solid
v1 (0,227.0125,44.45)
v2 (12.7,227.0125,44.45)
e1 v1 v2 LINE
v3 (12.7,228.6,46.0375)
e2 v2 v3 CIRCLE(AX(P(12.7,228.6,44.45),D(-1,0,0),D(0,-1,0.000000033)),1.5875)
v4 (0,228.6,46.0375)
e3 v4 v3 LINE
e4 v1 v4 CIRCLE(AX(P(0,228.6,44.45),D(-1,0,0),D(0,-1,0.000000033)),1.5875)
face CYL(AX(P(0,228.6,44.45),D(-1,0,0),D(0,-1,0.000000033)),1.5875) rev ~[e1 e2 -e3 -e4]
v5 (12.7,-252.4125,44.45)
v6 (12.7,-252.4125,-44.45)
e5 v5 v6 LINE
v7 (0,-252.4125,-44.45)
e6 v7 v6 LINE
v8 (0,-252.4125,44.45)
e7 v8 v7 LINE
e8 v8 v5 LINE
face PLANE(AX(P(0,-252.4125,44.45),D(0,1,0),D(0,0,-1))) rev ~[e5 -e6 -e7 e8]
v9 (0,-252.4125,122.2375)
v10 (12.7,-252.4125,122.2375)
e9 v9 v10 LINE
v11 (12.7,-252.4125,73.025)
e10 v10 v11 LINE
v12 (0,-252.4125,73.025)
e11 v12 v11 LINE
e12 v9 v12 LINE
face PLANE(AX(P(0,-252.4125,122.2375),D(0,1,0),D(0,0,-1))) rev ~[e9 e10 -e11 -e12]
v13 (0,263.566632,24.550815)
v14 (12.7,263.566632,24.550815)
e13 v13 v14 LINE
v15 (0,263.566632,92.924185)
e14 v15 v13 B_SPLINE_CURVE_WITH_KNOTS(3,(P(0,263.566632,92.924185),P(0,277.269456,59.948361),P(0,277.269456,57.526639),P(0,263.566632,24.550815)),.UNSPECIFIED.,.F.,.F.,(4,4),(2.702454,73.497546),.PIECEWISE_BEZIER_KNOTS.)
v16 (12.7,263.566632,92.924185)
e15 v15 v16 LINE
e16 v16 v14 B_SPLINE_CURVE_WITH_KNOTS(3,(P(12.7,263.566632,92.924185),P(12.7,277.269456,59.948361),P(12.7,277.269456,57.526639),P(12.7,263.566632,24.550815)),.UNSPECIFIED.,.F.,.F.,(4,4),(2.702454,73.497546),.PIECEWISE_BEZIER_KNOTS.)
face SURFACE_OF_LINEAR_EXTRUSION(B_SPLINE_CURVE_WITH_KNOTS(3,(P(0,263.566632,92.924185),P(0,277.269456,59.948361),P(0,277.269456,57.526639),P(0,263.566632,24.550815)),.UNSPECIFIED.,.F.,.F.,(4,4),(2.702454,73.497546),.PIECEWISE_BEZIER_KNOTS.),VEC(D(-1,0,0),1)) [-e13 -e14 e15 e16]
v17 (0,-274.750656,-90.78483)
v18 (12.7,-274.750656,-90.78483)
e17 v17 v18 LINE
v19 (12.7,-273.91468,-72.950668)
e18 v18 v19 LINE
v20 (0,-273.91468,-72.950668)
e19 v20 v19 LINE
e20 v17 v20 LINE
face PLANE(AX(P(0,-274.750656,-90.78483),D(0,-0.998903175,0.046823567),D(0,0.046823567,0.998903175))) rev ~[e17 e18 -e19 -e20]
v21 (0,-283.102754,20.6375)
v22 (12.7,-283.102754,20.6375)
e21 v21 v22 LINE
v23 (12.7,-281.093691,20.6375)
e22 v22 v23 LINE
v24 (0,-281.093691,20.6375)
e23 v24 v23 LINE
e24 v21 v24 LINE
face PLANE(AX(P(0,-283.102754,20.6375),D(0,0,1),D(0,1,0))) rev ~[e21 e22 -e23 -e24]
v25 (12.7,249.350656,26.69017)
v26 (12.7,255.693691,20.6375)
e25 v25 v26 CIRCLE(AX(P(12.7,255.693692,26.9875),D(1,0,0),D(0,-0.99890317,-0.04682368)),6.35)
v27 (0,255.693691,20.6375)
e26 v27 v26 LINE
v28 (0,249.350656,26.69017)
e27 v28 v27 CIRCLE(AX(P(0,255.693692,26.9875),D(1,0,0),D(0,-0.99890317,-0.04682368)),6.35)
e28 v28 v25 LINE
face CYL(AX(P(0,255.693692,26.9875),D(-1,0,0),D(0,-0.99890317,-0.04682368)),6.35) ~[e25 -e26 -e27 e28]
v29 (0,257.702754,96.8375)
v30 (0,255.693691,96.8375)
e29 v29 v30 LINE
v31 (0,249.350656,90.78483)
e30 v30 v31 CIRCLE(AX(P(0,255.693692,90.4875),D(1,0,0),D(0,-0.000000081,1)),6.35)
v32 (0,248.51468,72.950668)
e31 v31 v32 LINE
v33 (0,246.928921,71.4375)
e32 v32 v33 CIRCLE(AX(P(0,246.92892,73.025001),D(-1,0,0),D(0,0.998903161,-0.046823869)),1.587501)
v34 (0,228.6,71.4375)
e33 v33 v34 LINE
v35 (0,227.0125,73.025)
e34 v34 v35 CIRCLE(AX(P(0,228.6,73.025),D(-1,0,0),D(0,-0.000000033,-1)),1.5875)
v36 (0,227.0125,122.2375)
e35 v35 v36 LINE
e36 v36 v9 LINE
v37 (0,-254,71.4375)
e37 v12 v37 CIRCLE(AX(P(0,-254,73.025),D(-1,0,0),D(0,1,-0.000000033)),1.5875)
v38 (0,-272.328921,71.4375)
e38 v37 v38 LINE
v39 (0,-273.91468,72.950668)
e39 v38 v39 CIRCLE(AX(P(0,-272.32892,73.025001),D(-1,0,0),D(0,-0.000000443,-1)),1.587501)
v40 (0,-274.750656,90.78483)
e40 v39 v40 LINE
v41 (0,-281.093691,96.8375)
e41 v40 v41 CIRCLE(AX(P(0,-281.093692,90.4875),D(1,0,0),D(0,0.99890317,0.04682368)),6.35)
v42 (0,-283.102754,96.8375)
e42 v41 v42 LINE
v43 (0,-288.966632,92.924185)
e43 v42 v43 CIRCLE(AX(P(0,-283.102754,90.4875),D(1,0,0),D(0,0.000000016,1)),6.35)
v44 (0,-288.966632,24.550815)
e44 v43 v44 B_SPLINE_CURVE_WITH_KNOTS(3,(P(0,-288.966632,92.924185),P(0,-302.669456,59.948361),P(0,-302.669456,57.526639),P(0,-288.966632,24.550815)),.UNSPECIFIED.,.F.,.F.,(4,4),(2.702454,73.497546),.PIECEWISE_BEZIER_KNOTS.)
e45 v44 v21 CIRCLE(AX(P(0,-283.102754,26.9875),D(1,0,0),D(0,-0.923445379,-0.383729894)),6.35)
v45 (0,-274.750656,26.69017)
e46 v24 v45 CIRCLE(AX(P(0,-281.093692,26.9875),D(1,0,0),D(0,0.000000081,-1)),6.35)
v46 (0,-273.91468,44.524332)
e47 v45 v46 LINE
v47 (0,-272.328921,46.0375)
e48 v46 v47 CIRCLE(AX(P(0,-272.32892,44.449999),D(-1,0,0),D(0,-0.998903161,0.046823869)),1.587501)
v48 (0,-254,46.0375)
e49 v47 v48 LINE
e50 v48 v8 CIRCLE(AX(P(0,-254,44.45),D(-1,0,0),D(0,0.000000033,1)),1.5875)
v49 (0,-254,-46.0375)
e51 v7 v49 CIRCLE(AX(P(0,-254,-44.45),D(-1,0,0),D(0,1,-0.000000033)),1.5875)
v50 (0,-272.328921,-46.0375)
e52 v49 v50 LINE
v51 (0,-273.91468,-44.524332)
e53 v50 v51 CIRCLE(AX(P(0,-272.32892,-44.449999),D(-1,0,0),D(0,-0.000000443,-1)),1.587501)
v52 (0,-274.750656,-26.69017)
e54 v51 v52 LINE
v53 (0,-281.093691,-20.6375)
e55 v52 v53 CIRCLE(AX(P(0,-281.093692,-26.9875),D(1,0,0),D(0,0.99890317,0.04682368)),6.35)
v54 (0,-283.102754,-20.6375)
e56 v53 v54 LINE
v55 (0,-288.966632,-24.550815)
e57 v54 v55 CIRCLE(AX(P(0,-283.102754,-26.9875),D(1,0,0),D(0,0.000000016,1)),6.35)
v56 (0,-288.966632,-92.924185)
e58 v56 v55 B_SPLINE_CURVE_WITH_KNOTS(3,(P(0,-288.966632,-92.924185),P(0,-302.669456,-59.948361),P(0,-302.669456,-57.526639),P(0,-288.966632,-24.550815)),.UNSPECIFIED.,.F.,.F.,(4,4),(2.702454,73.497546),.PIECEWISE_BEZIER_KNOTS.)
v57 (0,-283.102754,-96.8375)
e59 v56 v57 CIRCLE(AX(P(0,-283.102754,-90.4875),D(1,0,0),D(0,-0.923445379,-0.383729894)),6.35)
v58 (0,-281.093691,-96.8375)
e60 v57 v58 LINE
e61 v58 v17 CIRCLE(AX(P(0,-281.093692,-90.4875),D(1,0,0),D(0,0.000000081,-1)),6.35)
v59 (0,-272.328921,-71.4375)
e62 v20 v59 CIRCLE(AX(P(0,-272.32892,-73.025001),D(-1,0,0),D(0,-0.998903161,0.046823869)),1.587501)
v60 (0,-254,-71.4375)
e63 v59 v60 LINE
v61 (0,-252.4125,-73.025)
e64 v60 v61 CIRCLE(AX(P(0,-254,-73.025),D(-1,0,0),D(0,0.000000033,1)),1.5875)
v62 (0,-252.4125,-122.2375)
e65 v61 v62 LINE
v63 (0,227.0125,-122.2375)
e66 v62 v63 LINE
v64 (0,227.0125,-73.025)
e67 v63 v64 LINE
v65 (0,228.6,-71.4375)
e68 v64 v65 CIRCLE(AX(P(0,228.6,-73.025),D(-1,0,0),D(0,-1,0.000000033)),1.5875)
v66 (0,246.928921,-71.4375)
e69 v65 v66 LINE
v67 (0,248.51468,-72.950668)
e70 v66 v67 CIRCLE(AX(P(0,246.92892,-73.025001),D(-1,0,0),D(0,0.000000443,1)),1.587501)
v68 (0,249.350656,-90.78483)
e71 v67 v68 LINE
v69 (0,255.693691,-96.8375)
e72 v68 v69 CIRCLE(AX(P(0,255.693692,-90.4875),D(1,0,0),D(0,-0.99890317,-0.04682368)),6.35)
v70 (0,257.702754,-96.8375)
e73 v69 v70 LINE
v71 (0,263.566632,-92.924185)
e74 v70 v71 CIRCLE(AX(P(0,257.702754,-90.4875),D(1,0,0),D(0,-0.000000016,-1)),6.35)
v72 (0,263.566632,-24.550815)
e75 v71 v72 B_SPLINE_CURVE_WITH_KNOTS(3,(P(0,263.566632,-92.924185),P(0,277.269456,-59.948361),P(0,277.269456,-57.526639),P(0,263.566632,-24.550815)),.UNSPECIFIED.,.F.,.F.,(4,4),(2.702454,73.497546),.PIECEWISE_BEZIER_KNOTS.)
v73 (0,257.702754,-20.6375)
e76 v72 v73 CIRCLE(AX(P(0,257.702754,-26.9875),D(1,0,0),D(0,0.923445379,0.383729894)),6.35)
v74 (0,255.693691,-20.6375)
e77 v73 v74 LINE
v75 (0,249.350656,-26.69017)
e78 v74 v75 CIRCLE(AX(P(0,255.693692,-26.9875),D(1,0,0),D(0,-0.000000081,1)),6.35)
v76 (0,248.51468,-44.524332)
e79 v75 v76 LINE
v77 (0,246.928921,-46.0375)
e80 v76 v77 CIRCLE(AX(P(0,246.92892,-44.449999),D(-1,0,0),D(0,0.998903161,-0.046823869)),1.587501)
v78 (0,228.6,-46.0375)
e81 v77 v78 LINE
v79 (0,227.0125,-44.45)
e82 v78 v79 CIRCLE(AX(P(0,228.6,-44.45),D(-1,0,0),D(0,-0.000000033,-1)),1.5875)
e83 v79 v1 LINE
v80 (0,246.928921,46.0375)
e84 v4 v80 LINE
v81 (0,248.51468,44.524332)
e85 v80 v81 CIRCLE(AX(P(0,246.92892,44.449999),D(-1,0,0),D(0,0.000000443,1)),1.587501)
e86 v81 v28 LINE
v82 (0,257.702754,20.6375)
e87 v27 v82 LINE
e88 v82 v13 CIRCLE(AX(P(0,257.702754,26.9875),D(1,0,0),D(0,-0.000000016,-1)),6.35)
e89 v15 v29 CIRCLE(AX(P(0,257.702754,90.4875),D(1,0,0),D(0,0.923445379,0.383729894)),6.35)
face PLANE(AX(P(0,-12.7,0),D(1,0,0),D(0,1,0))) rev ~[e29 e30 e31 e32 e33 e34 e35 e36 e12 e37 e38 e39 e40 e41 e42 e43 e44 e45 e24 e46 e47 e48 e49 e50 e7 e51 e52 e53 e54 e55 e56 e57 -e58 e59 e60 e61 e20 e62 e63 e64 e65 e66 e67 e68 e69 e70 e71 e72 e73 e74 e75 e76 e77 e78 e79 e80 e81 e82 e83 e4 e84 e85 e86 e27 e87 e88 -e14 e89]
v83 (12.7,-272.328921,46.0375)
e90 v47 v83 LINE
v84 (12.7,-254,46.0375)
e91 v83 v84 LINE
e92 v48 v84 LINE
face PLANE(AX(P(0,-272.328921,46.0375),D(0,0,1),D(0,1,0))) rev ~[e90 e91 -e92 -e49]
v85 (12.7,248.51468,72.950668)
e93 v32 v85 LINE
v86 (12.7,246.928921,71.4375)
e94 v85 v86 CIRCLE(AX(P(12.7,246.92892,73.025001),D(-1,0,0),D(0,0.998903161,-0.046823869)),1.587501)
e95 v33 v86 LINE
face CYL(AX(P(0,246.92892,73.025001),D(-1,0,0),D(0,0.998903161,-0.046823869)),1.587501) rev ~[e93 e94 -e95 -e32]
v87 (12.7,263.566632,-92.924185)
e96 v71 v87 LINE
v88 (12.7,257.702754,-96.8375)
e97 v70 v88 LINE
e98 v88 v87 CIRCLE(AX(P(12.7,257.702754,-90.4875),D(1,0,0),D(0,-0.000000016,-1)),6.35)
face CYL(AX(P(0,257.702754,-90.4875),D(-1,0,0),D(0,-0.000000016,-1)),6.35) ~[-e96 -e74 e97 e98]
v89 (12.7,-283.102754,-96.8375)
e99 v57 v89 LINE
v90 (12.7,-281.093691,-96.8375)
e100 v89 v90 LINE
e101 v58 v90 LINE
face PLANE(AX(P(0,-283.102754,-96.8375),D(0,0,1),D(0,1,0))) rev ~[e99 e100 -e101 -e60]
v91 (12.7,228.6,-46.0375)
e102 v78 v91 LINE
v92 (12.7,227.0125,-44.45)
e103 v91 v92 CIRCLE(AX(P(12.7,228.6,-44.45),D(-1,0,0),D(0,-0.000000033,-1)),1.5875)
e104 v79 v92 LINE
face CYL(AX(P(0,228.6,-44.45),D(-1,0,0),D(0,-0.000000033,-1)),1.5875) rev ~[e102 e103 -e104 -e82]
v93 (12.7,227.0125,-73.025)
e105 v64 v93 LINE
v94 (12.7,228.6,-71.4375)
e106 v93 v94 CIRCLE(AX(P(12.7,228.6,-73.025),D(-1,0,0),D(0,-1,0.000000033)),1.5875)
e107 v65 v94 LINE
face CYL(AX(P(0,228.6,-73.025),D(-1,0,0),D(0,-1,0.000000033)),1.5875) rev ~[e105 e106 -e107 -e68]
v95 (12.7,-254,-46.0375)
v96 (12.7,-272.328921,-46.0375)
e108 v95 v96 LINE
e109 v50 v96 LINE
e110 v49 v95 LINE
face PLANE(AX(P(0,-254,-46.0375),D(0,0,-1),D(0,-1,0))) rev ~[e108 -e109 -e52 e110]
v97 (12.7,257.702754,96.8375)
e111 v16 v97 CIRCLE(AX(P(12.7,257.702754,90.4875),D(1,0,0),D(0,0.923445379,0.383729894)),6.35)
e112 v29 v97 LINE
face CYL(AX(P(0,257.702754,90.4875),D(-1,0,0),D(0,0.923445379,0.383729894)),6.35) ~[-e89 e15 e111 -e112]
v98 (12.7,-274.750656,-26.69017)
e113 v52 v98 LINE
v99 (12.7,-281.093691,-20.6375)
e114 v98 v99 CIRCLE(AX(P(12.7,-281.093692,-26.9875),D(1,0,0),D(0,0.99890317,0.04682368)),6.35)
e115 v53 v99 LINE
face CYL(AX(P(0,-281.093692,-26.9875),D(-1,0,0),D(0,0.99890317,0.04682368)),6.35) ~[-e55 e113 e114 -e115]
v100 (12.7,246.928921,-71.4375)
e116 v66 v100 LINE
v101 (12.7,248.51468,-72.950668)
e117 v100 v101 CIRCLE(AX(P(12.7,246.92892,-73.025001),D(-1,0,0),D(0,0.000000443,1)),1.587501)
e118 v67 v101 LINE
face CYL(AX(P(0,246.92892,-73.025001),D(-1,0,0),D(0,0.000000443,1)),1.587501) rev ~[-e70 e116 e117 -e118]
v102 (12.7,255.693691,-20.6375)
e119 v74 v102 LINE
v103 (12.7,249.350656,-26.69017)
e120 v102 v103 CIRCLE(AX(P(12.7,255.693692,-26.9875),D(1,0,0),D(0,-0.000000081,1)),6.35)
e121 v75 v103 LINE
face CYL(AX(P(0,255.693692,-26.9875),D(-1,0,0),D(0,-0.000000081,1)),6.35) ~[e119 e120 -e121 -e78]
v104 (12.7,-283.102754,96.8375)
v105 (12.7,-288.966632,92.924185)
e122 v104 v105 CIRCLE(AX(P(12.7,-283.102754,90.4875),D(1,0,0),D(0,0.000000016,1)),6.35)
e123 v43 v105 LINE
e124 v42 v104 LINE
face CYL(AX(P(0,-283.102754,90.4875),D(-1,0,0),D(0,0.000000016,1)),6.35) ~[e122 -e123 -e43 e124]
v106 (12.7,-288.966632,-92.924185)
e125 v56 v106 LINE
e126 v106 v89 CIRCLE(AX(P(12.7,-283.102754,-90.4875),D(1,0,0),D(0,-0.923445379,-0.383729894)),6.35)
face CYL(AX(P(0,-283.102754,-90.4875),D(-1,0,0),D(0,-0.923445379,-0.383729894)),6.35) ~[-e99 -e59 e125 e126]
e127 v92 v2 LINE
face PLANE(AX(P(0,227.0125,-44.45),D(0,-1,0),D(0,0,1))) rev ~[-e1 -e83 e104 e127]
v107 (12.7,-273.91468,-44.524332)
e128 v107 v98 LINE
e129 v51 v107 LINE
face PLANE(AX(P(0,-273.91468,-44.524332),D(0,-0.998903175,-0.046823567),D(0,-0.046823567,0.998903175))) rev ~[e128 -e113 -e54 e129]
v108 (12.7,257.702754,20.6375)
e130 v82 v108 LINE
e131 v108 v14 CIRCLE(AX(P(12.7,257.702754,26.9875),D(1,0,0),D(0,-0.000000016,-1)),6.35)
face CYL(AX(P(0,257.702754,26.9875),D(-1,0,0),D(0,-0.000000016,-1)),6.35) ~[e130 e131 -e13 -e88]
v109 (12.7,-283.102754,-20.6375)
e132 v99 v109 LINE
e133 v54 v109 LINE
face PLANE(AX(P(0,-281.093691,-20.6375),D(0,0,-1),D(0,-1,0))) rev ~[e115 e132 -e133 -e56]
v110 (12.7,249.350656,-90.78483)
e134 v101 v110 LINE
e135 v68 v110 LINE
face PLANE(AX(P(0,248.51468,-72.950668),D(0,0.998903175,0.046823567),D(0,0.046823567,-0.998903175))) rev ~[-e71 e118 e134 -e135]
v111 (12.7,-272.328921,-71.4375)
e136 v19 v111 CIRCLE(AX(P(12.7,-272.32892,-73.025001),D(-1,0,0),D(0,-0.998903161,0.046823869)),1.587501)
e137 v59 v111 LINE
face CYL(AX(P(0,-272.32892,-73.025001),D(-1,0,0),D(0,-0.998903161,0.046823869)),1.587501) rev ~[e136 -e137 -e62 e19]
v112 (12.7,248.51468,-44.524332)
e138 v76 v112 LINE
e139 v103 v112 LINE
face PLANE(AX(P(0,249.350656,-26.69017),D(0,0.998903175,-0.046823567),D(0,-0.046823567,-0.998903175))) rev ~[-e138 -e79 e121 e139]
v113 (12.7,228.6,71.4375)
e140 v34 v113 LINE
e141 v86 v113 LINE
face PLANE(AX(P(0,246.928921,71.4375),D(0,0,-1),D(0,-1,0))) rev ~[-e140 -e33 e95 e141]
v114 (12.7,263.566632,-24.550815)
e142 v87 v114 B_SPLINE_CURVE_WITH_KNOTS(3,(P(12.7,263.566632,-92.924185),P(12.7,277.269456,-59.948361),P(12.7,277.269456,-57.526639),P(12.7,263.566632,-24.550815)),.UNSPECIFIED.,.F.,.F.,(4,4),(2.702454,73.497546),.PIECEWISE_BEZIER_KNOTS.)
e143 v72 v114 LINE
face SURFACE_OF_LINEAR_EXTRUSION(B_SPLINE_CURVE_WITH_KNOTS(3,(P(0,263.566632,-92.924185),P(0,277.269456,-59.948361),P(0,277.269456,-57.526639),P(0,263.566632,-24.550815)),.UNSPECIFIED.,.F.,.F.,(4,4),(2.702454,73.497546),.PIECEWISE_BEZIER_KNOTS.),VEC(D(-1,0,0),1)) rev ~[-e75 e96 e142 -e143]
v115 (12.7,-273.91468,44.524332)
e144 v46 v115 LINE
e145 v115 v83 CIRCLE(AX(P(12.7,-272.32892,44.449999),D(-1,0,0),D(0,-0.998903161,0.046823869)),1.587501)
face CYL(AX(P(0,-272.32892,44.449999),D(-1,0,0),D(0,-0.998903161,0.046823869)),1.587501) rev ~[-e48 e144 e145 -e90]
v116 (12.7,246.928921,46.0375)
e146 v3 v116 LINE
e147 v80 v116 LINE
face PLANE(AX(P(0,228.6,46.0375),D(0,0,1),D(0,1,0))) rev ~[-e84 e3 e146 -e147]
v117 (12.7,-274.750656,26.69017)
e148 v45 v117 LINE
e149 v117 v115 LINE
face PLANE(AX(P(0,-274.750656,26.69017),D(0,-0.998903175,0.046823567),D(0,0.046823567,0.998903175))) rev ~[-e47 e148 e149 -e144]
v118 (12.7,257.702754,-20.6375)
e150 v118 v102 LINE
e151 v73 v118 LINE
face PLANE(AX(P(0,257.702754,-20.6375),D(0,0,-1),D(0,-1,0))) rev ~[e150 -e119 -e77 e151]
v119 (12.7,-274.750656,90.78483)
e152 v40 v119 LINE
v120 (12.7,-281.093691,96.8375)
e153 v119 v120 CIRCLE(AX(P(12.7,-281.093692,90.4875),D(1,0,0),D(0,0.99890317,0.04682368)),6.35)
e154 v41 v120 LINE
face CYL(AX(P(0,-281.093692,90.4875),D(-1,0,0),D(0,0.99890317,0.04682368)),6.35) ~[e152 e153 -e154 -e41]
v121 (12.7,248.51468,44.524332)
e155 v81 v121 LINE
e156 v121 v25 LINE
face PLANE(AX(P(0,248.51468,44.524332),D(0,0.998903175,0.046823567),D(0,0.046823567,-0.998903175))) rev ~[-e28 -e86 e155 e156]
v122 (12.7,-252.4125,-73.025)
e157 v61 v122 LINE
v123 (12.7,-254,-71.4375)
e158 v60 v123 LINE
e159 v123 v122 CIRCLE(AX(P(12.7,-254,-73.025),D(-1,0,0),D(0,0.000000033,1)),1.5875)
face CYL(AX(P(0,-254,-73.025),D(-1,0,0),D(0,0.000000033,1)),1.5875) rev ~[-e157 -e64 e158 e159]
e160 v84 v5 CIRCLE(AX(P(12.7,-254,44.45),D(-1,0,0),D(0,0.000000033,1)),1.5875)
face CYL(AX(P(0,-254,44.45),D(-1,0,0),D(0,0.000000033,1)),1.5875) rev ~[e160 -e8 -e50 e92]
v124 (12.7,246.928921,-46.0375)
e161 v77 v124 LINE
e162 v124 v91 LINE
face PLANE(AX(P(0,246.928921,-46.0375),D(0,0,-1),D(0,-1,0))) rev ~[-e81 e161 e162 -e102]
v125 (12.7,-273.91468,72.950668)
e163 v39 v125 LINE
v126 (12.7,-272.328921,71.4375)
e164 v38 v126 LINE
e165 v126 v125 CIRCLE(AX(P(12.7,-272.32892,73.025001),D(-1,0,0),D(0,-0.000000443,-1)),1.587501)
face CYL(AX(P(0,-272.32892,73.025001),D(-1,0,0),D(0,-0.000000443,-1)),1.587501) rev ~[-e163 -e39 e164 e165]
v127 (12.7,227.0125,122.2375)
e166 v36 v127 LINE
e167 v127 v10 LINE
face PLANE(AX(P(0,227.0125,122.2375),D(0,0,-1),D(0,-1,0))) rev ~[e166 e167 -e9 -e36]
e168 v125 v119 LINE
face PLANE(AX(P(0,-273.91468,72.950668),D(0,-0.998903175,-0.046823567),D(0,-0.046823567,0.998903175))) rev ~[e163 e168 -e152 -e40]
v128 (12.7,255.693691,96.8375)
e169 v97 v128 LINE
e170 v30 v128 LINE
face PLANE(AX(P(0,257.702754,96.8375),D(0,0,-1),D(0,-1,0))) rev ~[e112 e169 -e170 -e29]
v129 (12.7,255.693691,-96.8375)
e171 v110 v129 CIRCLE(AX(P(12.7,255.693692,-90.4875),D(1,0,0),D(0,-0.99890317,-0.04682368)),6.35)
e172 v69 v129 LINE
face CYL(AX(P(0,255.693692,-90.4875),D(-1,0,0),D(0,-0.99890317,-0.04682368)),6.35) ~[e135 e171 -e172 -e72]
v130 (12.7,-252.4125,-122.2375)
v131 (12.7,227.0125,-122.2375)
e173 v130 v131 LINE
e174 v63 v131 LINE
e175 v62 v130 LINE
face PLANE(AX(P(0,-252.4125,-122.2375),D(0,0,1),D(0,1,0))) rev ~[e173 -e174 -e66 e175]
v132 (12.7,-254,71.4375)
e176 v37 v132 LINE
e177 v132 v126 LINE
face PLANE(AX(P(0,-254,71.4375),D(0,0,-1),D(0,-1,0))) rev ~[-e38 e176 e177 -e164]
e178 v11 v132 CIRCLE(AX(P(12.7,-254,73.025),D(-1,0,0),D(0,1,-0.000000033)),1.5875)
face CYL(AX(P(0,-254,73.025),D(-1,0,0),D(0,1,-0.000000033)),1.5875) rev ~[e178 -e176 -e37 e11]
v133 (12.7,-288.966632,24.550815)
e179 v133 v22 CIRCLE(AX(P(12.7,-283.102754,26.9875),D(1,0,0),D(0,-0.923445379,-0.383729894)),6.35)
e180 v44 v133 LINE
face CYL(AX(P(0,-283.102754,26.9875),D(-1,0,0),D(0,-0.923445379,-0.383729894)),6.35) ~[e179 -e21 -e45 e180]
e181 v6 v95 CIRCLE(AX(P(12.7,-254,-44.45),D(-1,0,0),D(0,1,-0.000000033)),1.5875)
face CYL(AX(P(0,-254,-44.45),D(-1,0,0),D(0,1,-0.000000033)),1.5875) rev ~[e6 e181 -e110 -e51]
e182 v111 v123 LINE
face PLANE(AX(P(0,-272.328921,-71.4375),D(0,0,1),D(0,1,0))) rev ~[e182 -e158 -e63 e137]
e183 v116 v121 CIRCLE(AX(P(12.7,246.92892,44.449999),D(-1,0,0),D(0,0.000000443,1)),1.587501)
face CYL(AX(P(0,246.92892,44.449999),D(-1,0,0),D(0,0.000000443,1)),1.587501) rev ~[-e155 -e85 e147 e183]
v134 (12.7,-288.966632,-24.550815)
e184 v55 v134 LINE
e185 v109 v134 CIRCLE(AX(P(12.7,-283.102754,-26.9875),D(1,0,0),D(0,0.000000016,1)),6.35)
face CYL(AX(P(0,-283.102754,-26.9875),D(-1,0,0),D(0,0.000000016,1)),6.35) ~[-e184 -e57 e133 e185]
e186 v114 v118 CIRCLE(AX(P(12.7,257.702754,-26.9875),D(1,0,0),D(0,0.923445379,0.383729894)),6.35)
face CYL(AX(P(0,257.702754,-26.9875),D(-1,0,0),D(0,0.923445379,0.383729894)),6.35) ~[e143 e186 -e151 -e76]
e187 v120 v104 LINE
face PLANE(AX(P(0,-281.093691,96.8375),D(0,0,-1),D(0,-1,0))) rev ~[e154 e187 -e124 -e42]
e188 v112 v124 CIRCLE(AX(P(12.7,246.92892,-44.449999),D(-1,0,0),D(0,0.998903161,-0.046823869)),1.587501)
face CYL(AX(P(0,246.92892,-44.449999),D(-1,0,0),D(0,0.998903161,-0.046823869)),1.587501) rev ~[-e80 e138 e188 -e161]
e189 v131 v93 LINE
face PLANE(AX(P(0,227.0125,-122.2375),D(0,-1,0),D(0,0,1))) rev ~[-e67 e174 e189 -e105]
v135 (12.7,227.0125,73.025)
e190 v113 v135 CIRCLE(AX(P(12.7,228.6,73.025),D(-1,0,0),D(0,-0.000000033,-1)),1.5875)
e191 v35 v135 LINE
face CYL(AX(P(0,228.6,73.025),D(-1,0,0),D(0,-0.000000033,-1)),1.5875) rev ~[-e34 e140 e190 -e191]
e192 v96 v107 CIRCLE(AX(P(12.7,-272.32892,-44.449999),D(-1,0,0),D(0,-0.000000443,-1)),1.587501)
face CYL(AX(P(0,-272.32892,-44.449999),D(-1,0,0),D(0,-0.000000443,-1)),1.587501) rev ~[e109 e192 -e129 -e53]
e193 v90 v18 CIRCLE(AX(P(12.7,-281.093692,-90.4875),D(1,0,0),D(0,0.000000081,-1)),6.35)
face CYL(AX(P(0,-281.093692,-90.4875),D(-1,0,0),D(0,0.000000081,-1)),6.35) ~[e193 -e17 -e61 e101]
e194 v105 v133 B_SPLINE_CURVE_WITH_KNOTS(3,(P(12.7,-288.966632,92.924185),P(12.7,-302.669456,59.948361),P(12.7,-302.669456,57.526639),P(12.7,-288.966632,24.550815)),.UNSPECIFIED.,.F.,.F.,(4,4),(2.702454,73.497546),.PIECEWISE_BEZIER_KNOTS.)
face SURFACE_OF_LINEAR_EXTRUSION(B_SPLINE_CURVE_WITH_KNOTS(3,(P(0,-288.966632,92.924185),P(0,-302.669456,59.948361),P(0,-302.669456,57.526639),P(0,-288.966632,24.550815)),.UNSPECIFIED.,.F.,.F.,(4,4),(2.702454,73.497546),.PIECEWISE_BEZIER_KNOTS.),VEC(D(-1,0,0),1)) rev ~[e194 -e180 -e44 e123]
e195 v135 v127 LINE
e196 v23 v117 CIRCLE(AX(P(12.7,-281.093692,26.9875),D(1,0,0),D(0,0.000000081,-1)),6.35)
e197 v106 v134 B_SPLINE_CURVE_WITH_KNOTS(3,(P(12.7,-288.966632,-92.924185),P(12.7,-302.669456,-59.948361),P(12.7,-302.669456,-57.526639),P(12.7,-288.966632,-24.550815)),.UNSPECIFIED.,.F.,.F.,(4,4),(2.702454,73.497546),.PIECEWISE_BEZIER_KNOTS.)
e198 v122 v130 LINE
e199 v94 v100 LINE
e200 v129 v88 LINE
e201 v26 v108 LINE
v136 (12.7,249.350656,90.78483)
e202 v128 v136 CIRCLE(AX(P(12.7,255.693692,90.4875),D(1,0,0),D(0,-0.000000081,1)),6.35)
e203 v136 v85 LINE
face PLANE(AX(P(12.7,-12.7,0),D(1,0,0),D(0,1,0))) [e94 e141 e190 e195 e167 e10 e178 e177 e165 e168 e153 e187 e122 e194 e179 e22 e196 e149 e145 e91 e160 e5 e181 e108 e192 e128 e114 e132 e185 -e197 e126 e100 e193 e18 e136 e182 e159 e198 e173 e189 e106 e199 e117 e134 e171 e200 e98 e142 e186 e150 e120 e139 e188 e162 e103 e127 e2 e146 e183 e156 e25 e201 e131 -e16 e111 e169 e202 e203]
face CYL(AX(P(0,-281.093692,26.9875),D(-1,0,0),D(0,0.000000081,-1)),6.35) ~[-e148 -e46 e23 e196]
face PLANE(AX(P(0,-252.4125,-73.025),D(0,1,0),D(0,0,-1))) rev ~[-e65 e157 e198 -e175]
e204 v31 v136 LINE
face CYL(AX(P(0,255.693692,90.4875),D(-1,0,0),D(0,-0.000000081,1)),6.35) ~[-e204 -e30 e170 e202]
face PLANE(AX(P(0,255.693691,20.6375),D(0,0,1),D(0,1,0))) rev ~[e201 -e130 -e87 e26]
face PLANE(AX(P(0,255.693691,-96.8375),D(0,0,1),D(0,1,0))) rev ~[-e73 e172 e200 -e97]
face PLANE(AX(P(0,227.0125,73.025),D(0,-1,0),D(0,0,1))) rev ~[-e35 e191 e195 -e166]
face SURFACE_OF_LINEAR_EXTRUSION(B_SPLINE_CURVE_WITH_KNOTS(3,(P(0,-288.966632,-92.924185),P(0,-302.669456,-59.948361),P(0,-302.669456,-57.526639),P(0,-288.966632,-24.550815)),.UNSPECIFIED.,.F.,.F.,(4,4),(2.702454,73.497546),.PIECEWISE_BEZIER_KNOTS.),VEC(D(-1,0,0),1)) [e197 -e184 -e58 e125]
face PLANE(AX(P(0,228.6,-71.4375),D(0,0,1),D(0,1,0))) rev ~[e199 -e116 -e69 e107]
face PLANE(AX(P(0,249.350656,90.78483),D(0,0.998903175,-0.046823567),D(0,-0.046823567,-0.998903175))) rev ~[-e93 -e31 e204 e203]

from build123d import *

# Parameters (mm, degrees)
F1_DEPTH = 12.7


with BuildPart() as f1:
    # F0 (on Right) → F1 (new body)
    with BuildSketch(Plane.YZ):
        with BuildLine():
            ThreePointArc((-274.750656, 90.78483), (-276.709945, 95.081547), (-281.093691, 96.8375))
            Line((-281.093691, 96.8375), (-283.102754, 96.8375))
            ThreePointArc((-283.102754, 96.8375), (-286.627633, 95.76933), (-288.966632, 92.924185))
            add(Edge.make_bspline(
                [(-288.966632, 92.924185), (-302.669456, 59.948361), (-302.669456, 57.526639), (-288.966632, 24.550815)],
                knots=[2.702454, 2.702454, 2.702454, 2.702454, 73.497546, 73.497546, 73.497546, 73.497546], degree=3))
            ThreePointArc((-288.966632, 24.550815), (-286.627633, 21.70567), (-283.102754, 20.6375))
            Line((-283.102754, 20.6375), (-281.093691, 20.6375))
            ThreePointArc((-281.093691, 20.6375), (-276.709945, 22.393453), (-274.750656, 26.69017))
            Line((-274.750656, 26.69017), (-273.91468, 44.524332))
            ThreePointArc((-273.91468, 44.524332), (-273.424857, 45.598512), (-272.328921, 46.0375))
            Line((-272.328921, 46.0375), (-254, 46.0375))
            ThreePointArc((-254, 46.0375), (-252.877468, 45.572532), (-252.4125, 44.45))
            Line((-252.4125, 44.45), (-252.4125, -44.45))
            ThreePointArc((-252.4125, -44.45), (-252.877468, -45.572532), (-254, -46.0375))
            Line((-254, -46.0375), (-272.328921, -46.0375))
            ThreePointArc((-272.328921, -46.0375), (-273.424857, -45.598512), (-273.91468, -44.524332))
            Line((-273.91468, -44.524332), (-274.750656, -26.69017))
            ThreePointArc((-274.750656, -26.69017), (-276.709945, -22.393453), (-281.093691, -20.6375))
            Line((-281.093691, -20.6375), (-283.102754, -20.6375))
            ThreePointArc((-283.102754, -20.6375), (-286.627633, -21.70567), (-288.966632, -24.550815))
            add(Edge.make_bspline(
                [(-288.966632, -92.924185), (-302.669456, -59.948361), (-302.669456, -57.526639), (-288.966632, -24.550815)],
                knots=[2.702454, 2.702454, 2.702454, 2.702454, 73.497546, 73.497546, 73.497546, 73.497546], degree=3))
            ThreePointArc((-288.966632, -92.924185), (-286.627633, -95.76933), (-283.102754, -96.8375))
            Line((-283.102754, -96.8375), (-281.093691, -96.8375))
            ThreePointArc((-281.093691, -96.8375), (-276.709945, -95.081547), (-274.750656, -90.78483))
            Line((-274.750656, -90.78483), (-273.91468, -72.950668))
            ThreePointArc((-273.91468, -72.950668), (-273.424857, -71.876488), (-272.328921, -71.4375))
            Line((-272.328921, -71.4375), (-254, -71.4375))
            ThreePointArc((-254, -71.4375), (-252.877468, -71.902468), (-252.4125, -73.025))
            Line((-252.4125, -73.025), (-252.4125, -122.2375))
            Line((-252.4125, -122.2375), (227.0125, -122.2375))
            Line((227.0125, -122.2375), (227.0125, -73.025))
            ThreePointArc((227.0125, -73.025), (227.477468, -71.902468), (228.6, -71.4375))
            Line((228.6, -71.4375), (246.928921, -71.4375))
            ThreePointArc((246.928921, -71.4375), (248.024857, -71.876488), (248.51468, -72.950668))
            Line((248.51468, -72.950668), (249.350656, -90.78483))
            ThreePointArc((249.350656, -90.78483), (251.309945, -95.081547), (255.693691, -96.8375))
            Line((255.693691, -96.8375), (257.702754, -96.8375))
            ThreePointArc((257.702754, -96.8375), (261.227633, -95.76933), (263.566632, -92.924185))
            add(Edge.make_bspline(
                [(263.566632, -92.924185), (277.269456, -59.948361), (277.269456, -57.526639), (263.566632, -24.550815)],
                knots=[2.702454, 2.702454, 2.702454, 2.702454, 73.497546, 73.497546, 73.497546, 73.497546], degree=3))
            ThreePointArc((263.566632, -24.550815), (261.227633, -21.70567), (257.702754, -20.6375))
            Line((257.702754, -20.6375), (255.693691, -20.6375))
            ThreePointArc((255.693691, -20.6375), (251.309945, -22.393453), (249.350656, -26.69017))
            Line((249.350656, -26.69017), (248.51468, -44.524332))
            ThreePointArc((248.51468, -44.524332), (248.024857, -45.598512), (246.928921, -46.0375))
            Line((246.928921, -46.0375), (228.6, -46.0375))
            ThreePointArc((228.6, -46.0375), (227.477468, -45.572532), (227.0125, -44.45))
            Line((227.0125, -44.45), (227.0125, 44.45))
            ThreePointArc((227.0125, 44.45), (227.477468, 45.572532), (228.6, 46.0375))
            Line((228.6, 46.0375), (246.928921, 46.0375))
            ThreePointArc((246.928921, 46.0375), (248.024857, 45.598512), (248.51468, 44.524332))
            Line((248.51468, 44.524332), (249.350656, 26.69017))
            ThreePointArc((249.350656, 26.69017), (251.309945, 22.393453), (255.693691, 20.6375))
            Line((255.693691, 20.6375), (257.702754, 20.6375))
            ThreePointArc((257.702754, 20.6375), (261.227633, 21.70567), (263.566632, 24.550815))
            add(Edge.make_bspline(
                [(263.566632, 92.924185), (277.269456, 59.948361), (277.269456, 57.526639), (263.566632, 24.550815)],
                knots=[2.702454, 2.702454, 2.702454, 2.702454, 73.497546, 73.497546, 73.497546, 73.497546], degree=3))
            ThreePointArc((263.566632, 92.924185), (261.227633, 95.76933), (257.702754, 96.8375))
            Line((257.702754, 96.8375), (255.693691, 96.8375))
            ThreePointArc((255.693691, 96.8375), (251.309945, 95.081547), (249.350656, 90.78483))
            Line((249.350656, 90.78483), (248.51468, 72.950668))
            ThreePointArc((248.51468, 72.950668), (248.024857, 71.876488), (246.928921, 71.4375))
            Line((246.928921, 71.4375), (228.6, 71.4375))
            ThreePointArc((228.6, 71.4375), (227.477468, 71.902468), (227.0125, 73.025))
            Line((227.0125, 73.025), (227.0125, 122.2375))
            Line((227.0125, 122.2375), (-252.4125, 122.2375))
            Line((-252.4125, 122.2375), (-252.4125, 73.025))
            ThreePointArc((-252.4125, 73.025), (-252.877468, 71.902468), (-254, 71.4375))
            Line((-254, 71.4375), (-272.328921, 71.4375))
            ThreePointArc((-272.328921, 71.4375), (-273.424857, 71.876488), (-273.91468, 72.950668))
            Line((-273.91468, 72.950668), (-274.750656, 90.78483))
        make_face()
    extrude(amount=F1_DEPTH)


solid = f1.part
